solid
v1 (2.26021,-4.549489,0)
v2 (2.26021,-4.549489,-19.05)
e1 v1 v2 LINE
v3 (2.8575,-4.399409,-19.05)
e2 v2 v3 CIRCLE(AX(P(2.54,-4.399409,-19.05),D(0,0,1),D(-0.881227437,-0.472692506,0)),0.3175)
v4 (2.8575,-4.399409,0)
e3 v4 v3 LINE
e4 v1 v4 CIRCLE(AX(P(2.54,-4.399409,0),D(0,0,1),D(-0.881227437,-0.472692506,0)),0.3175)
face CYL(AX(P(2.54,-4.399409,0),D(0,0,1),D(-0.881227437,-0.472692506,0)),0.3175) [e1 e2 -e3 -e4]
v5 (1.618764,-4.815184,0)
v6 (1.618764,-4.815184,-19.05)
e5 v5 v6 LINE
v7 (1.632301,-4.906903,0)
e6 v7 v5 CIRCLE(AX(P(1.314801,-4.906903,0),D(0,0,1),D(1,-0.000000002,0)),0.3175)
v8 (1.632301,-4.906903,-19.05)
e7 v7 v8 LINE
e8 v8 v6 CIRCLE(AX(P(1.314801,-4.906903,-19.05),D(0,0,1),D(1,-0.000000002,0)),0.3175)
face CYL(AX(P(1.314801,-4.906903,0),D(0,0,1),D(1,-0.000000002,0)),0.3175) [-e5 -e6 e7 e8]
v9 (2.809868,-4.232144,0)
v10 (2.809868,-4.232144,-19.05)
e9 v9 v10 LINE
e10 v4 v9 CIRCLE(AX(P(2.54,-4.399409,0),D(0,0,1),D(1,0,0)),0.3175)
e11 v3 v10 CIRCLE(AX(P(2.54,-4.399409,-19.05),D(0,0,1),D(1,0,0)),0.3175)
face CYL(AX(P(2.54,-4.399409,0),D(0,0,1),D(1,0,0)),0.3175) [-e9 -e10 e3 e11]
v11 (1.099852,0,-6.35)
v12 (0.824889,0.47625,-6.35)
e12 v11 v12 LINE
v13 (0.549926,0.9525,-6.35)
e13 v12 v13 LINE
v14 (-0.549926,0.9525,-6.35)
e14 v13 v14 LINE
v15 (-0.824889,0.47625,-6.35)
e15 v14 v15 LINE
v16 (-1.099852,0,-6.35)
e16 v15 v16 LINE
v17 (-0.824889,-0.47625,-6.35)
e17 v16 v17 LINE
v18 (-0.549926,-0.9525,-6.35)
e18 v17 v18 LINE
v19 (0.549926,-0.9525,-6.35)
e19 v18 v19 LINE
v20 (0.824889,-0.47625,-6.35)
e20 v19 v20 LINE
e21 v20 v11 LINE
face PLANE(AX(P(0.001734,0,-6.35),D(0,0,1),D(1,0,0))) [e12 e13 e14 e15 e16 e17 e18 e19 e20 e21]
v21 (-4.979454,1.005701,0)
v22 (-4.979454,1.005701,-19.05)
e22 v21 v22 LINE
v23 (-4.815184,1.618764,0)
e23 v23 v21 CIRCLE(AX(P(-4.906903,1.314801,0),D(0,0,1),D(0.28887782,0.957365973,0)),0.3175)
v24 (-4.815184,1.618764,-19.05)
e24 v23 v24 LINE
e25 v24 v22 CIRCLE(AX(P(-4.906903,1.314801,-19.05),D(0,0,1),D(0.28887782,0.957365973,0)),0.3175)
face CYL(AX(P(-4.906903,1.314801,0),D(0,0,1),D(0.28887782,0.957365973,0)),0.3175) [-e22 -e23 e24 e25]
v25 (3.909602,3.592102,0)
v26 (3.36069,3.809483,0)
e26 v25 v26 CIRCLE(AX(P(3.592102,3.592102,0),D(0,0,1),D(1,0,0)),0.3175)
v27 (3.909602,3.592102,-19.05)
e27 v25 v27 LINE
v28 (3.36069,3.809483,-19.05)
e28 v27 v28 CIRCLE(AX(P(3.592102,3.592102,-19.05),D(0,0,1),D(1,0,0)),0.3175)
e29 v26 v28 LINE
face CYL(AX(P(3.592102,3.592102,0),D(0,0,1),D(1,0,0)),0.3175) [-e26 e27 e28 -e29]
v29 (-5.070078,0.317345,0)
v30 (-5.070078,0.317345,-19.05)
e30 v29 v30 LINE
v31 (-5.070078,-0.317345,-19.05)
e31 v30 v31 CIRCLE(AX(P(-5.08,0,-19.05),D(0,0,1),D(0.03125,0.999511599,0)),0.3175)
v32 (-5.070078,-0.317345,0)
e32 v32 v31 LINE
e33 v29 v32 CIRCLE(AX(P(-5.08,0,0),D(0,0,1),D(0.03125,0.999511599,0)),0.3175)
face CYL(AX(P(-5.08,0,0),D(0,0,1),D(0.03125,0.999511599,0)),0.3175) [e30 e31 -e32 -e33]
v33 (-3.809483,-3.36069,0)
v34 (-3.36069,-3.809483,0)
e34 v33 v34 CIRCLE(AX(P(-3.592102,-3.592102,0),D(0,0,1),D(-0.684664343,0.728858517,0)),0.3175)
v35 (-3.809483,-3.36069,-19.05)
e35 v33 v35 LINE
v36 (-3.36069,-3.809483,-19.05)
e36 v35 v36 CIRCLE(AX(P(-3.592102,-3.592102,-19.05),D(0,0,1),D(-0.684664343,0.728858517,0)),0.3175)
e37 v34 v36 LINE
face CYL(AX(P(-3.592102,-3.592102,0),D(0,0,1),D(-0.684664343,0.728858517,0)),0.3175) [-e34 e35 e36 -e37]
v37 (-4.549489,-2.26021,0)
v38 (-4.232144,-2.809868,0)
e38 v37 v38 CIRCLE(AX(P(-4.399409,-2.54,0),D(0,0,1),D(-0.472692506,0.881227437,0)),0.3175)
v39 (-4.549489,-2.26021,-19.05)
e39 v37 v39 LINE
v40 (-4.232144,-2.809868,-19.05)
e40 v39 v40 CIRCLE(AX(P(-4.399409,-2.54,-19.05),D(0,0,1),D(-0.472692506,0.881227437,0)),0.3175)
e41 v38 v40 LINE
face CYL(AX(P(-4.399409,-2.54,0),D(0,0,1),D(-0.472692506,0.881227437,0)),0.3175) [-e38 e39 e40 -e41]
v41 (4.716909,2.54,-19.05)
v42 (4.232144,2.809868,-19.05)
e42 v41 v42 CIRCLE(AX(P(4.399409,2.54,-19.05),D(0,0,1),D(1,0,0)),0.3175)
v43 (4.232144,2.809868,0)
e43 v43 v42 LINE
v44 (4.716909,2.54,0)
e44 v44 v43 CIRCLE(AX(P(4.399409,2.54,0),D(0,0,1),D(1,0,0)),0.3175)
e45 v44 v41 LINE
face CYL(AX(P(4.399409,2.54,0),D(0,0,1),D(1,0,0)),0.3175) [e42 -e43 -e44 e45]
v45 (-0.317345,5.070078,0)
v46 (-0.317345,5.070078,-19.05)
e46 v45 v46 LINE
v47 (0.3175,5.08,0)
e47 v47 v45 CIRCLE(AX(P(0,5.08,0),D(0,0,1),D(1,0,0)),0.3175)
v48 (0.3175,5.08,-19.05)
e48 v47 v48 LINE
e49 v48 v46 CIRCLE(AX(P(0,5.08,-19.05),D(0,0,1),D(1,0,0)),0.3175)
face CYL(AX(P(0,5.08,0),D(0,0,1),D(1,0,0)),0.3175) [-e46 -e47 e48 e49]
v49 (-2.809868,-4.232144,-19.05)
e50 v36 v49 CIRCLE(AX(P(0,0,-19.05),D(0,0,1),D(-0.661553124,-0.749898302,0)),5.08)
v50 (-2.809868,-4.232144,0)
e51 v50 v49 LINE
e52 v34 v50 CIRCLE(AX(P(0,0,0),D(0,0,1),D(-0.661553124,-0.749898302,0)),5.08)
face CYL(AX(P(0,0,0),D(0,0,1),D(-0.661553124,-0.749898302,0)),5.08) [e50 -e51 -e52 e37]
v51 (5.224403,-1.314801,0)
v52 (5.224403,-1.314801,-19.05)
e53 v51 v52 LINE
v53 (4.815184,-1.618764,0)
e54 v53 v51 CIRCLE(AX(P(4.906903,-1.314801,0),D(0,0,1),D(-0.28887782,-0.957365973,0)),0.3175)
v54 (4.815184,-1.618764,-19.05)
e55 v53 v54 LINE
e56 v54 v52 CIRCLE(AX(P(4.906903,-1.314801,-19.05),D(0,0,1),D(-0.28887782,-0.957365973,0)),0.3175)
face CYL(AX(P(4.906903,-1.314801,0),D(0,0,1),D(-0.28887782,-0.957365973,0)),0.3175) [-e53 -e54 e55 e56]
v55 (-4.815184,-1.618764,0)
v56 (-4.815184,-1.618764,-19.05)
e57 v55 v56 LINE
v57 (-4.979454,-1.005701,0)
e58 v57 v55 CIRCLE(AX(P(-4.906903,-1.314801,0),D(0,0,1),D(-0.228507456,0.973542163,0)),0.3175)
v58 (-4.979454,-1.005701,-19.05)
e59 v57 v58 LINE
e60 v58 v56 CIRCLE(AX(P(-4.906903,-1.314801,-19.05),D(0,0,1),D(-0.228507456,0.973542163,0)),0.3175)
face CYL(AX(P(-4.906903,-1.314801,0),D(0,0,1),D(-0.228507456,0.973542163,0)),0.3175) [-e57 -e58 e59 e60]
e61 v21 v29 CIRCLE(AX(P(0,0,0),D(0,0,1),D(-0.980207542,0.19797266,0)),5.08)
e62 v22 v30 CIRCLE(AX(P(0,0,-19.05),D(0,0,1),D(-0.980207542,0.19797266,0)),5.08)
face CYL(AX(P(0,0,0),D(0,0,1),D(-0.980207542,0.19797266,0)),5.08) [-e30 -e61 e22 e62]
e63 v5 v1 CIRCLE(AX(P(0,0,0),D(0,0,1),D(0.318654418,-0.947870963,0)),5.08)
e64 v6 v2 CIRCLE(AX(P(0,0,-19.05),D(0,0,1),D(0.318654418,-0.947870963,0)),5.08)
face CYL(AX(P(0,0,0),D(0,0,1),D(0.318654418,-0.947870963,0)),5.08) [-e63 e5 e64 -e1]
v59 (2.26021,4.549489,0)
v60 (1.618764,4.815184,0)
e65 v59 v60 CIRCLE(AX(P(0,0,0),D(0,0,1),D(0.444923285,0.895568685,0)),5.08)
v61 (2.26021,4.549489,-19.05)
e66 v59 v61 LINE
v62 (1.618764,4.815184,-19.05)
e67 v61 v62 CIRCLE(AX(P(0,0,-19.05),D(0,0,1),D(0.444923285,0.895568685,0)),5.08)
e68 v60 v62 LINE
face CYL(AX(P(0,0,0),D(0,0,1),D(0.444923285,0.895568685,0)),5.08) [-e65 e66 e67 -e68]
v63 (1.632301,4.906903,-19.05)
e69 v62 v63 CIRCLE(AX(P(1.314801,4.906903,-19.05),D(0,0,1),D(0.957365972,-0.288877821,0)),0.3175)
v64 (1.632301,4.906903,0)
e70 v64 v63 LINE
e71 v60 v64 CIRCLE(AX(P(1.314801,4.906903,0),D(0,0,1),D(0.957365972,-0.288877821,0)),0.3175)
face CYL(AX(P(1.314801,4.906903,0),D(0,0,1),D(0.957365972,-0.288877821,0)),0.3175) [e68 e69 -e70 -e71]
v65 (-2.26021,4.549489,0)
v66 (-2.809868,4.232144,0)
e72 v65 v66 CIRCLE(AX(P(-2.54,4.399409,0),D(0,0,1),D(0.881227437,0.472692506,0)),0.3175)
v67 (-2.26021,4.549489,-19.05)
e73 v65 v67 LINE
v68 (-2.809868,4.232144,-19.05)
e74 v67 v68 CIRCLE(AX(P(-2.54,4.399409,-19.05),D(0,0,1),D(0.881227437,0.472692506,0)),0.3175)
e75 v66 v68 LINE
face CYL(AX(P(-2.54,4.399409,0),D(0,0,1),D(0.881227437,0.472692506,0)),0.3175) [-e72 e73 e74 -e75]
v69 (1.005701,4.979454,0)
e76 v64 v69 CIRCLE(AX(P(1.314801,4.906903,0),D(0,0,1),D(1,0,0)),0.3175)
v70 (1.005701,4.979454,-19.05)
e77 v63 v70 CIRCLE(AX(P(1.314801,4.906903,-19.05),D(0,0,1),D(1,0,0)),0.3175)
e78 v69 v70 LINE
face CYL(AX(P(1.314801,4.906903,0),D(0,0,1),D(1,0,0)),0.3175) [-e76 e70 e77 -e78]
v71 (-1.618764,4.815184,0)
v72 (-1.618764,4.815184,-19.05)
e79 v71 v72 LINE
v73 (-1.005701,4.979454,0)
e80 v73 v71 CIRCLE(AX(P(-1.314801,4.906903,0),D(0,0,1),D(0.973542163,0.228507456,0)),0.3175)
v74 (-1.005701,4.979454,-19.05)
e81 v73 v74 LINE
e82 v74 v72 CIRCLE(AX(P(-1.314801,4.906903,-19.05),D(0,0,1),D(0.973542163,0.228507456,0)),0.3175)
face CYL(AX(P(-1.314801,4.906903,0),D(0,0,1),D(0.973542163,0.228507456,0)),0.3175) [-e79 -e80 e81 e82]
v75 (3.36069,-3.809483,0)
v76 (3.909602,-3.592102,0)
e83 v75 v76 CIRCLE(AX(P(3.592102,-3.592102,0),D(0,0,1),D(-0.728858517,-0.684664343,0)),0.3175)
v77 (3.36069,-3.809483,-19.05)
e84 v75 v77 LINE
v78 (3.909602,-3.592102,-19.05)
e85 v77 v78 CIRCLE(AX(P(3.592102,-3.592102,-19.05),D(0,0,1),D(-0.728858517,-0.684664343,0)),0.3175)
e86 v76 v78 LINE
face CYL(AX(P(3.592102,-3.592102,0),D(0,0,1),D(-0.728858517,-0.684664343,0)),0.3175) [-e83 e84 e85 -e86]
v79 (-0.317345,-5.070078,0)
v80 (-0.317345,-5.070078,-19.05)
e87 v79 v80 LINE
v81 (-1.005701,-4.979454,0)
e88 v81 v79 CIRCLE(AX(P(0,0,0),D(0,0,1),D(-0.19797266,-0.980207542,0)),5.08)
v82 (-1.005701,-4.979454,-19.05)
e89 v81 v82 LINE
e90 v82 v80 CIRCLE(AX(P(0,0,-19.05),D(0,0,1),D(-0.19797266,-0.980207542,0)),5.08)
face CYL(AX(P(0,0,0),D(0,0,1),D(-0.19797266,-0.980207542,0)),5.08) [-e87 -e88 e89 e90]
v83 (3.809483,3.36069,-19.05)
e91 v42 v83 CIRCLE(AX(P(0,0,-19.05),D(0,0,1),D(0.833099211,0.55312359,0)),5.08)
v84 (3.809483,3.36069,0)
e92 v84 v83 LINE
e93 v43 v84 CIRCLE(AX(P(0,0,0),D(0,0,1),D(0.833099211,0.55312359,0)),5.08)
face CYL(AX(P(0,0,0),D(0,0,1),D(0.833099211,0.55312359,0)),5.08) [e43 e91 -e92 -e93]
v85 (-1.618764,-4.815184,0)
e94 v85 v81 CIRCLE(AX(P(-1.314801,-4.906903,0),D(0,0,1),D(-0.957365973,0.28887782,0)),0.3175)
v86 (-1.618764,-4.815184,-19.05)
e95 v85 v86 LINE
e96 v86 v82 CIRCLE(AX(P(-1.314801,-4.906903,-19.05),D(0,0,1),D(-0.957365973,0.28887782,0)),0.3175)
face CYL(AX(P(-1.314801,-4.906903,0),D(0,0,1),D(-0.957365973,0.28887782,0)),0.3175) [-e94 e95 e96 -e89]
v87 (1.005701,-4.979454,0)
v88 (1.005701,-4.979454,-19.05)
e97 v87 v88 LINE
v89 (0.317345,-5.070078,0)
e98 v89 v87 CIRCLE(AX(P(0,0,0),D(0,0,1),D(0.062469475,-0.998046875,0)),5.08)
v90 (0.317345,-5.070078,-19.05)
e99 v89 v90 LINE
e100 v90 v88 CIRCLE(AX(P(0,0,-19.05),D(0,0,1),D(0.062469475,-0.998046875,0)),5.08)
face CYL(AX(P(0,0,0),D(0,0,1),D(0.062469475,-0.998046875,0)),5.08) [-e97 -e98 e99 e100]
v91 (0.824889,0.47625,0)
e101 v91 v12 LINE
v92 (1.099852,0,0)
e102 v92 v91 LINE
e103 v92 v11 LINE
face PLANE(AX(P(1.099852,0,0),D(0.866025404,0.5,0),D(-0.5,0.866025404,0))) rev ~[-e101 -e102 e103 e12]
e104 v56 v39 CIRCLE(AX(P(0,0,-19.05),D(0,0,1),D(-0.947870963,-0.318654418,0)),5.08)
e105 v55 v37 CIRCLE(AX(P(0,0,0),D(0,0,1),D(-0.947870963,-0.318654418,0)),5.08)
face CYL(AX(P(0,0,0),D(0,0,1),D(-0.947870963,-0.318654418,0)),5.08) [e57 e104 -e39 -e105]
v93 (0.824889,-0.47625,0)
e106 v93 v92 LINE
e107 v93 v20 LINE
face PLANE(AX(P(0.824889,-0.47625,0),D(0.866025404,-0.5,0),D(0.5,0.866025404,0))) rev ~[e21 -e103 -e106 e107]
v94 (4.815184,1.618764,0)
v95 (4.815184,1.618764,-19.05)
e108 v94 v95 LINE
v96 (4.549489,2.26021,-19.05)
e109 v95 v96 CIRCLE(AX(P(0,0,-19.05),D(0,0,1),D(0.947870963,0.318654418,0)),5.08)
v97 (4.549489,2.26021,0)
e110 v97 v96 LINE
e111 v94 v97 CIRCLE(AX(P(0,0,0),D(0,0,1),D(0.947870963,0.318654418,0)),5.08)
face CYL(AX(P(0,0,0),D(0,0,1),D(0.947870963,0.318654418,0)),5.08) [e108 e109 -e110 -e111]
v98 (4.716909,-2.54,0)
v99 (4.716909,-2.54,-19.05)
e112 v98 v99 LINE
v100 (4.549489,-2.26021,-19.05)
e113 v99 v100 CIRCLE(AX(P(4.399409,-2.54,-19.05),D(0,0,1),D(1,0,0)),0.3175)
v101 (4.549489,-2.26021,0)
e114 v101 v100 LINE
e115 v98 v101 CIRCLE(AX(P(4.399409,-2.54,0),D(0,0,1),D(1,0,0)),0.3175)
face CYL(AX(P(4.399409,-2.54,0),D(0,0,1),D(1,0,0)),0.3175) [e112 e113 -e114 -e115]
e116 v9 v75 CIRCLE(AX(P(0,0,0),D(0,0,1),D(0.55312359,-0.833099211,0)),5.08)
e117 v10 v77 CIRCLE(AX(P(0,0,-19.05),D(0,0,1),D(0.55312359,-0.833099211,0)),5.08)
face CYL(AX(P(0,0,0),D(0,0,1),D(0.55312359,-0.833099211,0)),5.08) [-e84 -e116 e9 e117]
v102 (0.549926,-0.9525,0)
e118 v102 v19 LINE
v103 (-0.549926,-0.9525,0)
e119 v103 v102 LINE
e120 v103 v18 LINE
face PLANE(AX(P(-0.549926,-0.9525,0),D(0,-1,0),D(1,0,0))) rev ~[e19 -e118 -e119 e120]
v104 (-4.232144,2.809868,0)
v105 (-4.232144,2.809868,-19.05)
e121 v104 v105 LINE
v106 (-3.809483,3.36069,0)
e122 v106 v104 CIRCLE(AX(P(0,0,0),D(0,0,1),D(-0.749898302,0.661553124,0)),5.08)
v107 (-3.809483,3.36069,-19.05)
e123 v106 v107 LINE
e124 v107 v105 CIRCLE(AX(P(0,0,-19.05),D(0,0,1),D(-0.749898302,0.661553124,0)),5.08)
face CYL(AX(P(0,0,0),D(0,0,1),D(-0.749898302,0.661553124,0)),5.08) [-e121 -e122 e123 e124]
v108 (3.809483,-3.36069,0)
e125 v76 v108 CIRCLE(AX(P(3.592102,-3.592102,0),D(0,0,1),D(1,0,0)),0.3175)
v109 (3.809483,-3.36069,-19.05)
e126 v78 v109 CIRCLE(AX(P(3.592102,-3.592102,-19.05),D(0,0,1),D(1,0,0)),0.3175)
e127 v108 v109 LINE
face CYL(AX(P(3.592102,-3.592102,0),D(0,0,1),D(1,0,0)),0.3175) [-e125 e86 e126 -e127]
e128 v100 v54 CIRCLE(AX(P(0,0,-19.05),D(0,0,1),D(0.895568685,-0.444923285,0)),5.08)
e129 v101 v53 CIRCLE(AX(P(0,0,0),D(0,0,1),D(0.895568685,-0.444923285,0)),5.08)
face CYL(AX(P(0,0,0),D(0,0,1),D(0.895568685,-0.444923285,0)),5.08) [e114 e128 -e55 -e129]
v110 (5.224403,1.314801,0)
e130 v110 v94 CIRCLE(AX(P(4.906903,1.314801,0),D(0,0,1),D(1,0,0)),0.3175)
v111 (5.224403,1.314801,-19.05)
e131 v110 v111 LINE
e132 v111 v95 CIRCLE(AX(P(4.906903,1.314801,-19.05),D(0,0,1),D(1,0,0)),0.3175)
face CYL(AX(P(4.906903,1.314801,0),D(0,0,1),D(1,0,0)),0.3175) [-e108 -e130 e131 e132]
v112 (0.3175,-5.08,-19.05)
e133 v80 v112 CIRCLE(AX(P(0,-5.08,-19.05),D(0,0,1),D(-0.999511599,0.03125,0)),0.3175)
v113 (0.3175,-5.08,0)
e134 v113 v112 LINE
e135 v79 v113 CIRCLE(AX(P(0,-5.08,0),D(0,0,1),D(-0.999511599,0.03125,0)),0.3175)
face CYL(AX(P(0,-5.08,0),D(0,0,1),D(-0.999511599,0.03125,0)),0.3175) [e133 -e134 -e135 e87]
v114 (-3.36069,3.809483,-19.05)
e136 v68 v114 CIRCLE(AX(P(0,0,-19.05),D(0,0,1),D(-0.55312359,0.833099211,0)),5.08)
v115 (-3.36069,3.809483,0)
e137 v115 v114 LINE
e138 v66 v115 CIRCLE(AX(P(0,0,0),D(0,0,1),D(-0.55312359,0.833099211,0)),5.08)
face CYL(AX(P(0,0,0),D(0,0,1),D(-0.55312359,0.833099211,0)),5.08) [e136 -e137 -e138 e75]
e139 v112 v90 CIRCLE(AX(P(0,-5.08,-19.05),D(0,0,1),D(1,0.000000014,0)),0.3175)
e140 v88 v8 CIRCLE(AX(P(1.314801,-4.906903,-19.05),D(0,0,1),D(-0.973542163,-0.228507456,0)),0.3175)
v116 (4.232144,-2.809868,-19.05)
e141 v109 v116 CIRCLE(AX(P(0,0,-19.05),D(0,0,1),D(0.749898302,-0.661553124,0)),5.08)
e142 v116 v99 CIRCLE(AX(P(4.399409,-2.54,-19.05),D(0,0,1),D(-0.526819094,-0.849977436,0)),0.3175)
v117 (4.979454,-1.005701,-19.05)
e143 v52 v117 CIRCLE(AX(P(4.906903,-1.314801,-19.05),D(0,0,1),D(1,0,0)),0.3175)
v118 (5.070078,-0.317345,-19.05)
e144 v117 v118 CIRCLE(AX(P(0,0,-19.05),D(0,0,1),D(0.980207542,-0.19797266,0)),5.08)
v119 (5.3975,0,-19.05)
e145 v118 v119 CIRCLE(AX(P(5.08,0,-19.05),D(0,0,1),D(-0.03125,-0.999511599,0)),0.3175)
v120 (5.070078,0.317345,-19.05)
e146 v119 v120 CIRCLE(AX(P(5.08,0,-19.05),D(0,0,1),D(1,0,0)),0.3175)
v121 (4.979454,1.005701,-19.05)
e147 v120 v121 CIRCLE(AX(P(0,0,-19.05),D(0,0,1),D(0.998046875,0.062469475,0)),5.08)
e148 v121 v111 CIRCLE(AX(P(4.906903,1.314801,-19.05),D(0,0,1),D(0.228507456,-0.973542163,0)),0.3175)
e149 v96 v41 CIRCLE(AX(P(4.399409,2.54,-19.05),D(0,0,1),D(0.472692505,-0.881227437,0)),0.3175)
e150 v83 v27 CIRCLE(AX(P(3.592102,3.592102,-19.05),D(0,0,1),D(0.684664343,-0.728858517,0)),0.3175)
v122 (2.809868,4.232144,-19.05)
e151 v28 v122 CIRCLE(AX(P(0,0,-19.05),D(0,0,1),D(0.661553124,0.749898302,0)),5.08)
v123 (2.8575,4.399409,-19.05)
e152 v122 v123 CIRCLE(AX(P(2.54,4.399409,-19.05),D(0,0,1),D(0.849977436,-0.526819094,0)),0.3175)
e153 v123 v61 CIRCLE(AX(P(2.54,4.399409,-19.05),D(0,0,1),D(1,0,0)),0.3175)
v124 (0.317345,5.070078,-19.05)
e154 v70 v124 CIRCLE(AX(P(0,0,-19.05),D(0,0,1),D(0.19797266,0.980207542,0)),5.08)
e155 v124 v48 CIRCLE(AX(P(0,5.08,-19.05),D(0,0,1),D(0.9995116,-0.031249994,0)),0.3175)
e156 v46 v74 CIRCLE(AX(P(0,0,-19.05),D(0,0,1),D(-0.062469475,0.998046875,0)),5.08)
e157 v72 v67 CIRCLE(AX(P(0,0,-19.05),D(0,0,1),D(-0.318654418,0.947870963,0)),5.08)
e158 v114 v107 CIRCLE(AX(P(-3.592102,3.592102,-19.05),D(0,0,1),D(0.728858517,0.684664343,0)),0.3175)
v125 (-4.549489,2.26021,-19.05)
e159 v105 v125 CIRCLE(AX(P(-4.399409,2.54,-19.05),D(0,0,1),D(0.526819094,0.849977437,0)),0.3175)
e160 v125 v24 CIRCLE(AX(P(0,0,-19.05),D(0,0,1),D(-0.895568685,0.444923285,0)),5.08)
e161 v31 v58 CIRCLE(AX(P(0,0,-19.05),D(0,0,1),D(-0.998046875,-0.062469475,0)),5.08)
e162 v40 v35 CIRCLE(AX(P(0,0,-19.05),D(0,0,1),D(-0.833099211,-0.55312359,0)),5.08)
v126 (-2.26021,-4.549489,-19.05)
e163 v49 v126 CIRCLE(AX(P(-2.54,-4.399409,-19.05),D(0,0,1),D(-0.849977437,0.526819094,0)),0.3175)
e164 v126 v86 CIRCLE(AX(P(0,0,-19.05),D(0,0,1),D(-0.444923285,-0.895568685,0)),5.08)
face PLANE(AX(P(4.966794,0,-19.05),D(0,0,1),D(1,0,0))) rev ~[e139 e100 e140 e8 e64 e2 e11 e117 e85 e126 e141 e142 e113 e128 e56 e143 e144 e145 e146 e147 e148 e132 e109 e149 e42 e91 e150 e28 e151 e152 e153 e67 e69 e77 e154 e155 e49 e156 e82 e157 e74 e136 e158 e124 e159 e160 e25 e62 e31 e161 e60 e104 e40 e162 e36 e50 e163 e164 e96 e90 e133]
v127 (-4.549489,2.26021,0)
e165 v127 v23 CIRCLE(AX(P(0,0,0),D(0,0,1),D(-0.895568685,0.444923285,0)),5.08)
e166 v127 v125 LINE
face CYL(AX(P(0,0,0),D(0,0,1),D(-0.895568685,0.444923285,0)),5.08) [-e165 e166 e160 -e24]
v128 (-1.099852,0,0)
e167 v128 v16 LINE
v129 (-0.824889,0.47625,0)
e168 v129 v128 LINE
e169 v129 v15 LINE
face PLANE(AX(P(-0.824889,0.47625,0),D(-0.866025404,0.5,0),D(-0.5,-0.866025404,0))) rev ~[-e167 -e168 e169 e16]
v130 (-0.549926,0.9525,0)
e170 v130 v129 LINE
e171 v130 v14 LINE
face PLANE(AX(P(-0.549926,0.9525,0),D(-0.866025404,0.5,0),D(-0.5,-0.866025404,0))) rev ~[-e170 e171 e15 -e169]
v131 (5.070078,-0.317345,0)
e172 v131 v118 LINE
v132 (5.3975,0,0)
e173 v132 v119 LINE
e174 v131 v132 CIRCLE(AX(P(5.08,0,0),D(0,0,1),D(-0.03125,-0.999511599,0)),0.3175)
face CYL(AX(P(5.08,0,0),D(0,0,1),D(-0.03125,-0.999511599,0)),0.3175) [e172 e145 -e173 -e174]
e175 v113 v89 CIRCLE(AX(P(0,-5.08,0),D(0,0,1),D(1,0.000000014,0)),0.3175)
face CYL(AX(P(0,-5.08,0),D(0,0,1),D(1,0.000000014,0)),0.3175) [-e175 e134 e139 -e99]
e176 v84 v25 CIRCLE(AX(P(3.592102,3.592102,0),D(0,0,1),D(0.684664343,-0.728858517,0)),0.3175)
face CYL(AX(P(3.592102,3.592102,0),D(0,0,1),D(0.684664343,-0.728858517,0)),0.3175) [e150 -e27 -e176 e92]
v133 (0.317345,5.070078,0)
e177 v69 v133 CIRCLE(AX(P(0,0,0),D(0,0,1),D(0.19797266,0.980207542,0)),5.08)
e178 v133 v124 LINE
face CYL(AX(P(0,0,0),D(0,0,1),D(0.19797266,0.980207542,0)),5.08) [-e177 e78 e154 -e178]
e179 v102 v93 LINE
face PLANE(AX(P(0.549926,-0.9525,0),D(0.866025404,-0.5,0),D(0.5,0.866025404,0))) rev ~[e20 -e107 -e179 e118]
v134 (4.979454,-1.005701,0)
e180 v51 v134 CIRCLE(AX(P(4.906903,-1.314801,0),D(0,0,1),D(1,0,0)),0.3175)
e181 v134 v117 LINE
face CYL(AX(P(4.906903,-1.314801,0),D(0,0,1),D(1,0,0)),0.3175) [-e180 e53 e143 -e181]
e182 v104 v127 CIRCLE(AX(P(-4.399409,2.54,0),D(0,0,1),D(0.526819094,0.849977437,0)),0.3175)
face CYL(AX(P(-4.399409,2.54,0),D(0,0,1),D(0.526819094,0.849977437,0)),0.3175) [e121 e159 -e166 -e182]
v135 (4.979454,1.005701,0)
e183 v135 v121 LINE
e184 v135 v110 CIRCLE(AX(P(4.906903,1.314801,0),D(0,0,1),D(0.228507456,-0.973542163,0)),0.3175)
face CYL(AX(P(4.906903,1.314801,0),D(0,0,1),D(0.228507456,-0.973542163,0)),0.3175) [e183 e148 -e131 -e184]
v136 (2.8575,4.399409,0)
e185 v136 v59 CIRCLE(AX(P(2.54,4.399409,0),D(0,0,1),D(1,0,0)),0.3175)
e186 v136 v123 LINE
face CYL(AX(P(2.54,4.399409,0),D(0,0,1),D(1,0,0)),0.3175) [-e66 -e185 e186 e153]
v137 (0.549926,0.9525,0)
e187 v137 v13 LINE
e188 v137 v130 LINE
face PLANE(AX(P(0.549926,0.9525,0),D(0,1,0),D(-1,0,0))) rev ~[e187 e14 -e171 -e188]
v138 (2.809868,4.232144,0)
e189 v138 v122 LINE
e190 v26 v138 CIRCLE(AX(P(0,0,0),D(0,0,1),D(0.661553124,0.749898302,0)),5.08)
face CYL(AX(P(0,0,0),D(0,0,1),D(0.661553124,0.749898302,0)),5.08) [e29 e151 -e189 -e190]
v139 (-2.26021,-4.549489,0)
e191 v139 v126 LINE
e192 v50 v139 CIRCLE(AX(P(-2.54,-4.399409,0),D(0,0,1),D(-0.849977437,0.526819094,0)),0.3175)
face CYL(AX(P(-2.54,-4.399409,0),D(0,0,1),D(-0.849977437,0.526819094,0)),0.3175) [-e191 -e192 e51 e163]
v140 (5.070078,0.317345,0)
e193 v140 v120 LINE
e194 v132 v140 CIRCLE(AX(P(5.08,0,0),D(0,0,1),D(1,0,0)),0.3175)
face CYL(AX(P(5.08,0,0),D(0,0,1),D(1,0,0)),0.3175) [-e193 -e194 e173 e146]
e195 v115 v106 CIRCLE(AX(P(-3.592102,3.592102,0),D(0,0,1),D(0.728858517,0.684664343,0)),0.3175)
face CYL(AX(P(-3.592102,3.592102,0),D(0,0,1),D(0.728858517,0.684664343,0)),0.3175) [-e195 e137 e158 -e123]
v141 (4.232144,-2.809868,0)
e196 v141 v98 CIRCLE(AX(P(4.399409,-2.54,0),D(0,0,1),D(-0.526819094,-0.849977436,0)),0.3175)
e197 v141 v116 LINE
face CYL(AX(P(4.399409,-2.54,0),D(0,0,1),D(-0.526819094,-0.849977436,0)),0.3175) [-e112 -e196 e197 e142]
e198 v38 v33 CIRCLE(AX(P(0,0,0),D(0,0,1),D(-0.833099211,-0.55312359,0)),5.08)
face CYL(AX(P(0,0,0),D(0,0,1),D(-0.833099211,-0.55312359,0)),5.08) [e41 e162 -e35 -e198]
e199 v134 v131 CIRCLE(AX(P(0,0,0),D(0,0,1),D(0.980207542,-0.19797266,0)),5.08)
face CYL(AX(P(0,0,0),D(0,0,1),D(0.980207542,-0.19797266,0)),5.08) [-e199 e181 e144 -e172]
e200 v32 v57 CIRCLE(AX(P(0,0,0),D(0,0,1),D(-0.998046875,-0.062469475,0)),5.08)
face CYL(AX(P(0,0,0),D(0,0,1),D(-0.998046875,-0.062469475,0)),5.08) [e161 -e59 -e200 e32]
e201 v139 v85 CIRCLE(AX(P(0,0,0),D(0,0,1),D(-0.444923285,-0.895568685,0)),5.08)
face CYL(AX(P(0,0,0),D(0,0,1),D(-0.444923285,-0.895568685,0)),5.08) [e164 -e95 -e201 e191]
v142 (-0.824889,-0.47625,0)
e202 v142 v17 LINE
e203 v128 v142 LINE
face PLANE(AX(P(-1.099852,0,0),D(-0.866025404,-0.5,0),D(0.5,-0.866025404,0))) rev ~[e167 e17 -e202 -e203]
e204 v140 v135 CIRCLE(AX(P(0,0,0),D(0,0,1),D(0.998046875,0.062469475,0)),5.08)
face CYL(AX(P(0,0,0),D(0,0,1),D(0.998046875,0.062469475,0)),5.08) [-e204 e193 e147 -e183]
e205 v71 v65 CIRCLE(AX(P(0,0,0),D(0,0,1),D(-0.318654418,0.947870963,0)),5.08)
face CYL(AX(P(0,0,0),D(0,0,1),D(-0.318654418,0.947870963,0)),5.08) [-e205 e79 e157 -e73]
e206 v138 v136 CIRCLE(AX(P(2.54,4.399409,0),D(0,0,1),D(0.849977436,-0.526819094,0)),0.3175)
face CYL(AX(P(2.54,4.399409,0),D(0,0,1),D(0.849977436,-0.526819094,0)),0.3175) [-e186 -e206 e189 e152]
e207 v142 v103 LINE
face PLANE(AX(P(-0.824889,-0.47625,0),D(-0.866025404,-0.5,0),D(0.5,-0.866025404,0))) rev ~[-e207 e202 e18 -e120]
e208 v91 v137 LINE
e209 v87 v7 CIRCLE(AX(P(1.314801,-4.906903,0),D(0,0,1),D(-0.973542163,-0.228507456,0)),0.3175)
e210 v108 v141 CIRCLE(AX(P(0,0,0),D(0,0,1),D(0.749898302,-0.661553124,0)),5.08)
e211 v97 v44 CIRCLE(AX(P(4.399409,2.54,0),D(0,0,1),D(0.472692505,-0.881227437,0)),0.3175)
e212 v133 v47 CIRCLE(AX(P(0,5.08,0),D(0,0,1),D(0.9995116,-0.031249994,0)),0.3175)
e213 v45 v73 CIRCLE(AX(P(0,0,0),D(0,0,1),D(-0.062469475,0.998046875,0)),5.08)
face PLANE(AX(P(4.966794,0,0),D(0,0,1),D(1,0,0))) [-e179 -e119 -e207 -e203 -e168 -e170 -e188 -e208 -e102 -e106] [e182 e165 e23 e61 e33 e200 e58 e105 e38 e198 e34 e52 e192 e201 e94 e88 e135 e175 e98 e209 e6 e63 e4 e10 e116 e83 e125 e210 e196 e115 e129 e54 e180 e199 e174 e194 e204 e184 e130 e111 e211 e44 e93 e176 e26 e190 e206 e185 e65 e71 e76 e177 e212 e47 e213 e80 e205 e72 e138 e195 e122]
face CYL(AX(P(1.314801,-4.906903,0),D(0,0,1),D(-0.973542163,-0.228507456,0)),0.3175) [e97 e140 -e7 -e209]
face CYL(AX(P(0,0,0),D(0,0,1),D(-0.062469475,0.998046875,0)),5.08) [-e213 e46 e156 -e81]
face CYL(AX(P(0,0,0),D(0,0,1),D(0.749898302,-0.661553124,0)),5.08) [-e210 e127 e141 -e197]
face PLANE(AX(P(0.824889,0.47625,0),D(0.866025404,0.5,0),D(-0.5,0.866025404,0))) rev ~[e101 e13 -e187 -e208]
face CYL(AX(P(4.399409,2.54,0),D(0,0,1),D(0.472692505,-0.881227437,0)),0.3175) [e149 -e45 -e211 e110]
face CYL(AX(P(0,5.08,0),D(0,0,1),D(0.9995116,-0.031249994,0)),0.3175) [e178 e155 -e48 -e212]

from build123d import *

# Parameters (mm, degrees)
F2_DEPTH = 19.05
F3_DEPTH = 6.35


with BuildPart() as f2:
    # F1 (on Top) → F2 (new body)
    with BuildSketch(Plane.XY):
        with BuildLine():
            ThreePointArc((5.070078125, -0.3173449328), (5.0775189254, -0.15875), (5.08, 0))
            ThreePointArc((5.08, 0), (5.0775189254, 0.15875), (5.070078125, 0.3173449328))
            ThreePointArc((5.070078125, 0.3173449328), (4.7625, 0), (5.070078125, -0.3173449328))
        make_face()
        with BuildLine():
            ThreePointArc((5.070078125, 0.3173449328), (5.0775189254, 0.15875), (5.08, 0))
            ThreePointArc((5.08, 0), (5.0775189254, -0.15875), (5.070078125, -0.3173449328))
            ThreePointArc((5.070078125, -0.3173449328), (5.3009706481, -0.22798733), (5.3975, 0))
            ThreePointArc((5.3975, 0), (5.3009706481, 0.22798733), (5.070078125, 0.3173449328))
        make_face()
        with BuildLine():
            ThreePointArc((5.070078125, -0.3173449328), (4.7625, 0), (5.070078125, 0.3173449328))
            ThreePointArc((5.070078125, 0.3173449328), (5.0365398958, 0.6630730565), (4.9794543147, 1.0057011124))
            ThreePointArc((4.9794543147, 1.0057011124), (4.6002217477, 1.2326257023), (4.8151844898, 1.6187644454))
            ThreePointArc((4.8151844898, 1.6187644454), (4.6933080252, 1.9440318364), (4.5494889218, 2.2602102889))
            ThreePointArc((4.5494889218, 2.2602102889), (4.1244459855, 2.38125), (4.232143989, 2.8098678361))
            ThreePointArc((4.232143989, 2.8098678361), (4.0302349687, 3.0925080594), (3.8094833773, 3.3606898693))
            ThreePointArc((3.8094833773, 3.3606898693), (3.3675960454, 3.3675960454), (3.3606898693, 3.8094833773))
            ThreePointArc((3.3606898693, 3.8094833773), (3.0925080594, 4.0302349687), (2.8098678361, 4.232143989))
            ThreePointArc((2.8098678361, 4.232143989), (2.38125, 4.1244459855), (2.2602102889, 4.5494889218))
            ThreePointArc((2.2602102889, 4.5494889218), (1.9440318364, 4.6933080252), (1.6187644454, 4.8151844898))
            ThreePointArc((1.6187644454, 4.8151844898), (1.2326257023, 4.6002217477), (1.0057011124, 4.9794543147))
            ThreePointArc((1.0057011124, 4.9794543147), (0.6630730565, 5.0365398958), (0.3173449328, 5.070078125))
            ThreePointArc((0.3173449328, 5.070078125), (0, 4.7625), (-0.3173449328, 5.070078125))
            ThreePointArc((-0.3173449328, 5.070078125), (-0.6630730565, 5.0365398958), (-1.0057011124, 4.9794543147))
            ThreePointArc((-1.0057011124, 4.9794543147), (-0.9994078318, 4.9434211065), (-0.9973007491, 4.9069031975))
            ThreePointArc((-0.9973007491, 4.9069031975), (-1.2684446468, 4.5928055029), (-1.6187644454, 4.8151844898))
            ThreePointArc((-1.6187644454, 4.8151844898), (-1.9440318364, 4.6933080252), (-2.2602102889, 4.5494889218))
            ThreePointArc((-2.2602102889, 4.5494889218), (-2.2320718564, 4.476781581), (-2.2225, 4.3994090512))
            ThreePointArc((-2.2225, 4.3994090512), (-2.4530425045, 4.0940491914), (-2.8098678361, 4.232143989))
            ThreePointArc((-2.8098678361, 4.232143989), (-3.0925080594, 4.0302349687), (-3.3606898693, 3.8094833773))
            ThreePointArc((-3.3606898693, 3.8094833773), (-3.2969078145, 3.7090057335), (-3.2746024484, 3.5921024484))
            ThreePointArc((-3.2746024484, 3.5921024484), (-3.4660314266, 3.3007052153), (-3.8094833773, 3.3606898693))
            ThreePointArc((-3.8094833773, 3.3606898693), (-4.0302349687, 3.0925080594), (-4.232143989, 2.8098678361))
            ThreePointArc((-4.232143989, 2.8098678361), (-4.1219987889, 2.6944337928), (-4.0819090512, 2.54))
            ThreePointArc((-4.0819090512, 2.54), (-4.2363816132, 2.267551281), (-4.5494889218, 2.2602102889))
            ThreePointArc((-4.5494889218, 2.2602102889), (-4.6933080252, 1.9440318364), (-4.8151844898, 1.6187644454))
            ThreePointArc((-4.8151844898, 1.6187644454), (-4.6520238734, 1.5041226447), (-4.5894031975, 1.3148007491))
            ThreePointArc((-4.5894031975, 1.3148007491), (-4.709708788, 1.0659622174), (-4.9794543147, 1.0057011124))
            ThreePointArc((-4.9794543147, 1.0057011124), (-5.0365398958, 0.6630730565), (-5.070078125, 0.3173449328))
            ThreePointArc((-5.070078125, 0.3173449328), (-4.85201267, 0.2209706481), (-4.7625, 0))
            ThreePointArc((-4.7625, 0), (-4.85201267, -0.2209706481), (-5.070078125, -0.3173449328))
            ThreePointArc((-5.070078125, -0.3173449328), (-5.0365398958, -0.6630730565), (-4.9794543147, -1.0057011124))
            ThreePointArc((-4.9794543147, -1.0057011124), (-4.709708788, -1.0659622174), (-4.5894031975, -1.3148007491))
            ThreePointArc((-4.5894031975, -1.3148007491), (-4.6520238734, -1.5041226447), (-4.8151844898, -1.6187644454))
            ThreePointArc((-4.8151844898, -1.6187644454), (-4.6933080252, -1.9440318364), (-4.5494889218, -2.2602102889))
            ThreePointArc((-4.5494889218, -2.2602102889), (-4.2363816132, -2.267551281), (-4.0819090512, -2.54))
            ThreePointArc((-4.0819090512, -2.54), (-4.1219987889, -2.6944337928), (-4.232143989, -2.8098678361))
            ThreePointArc((-4.232143989, -2.8098678361), (-4.0302349687, -3.0925080594), (-3.8094833773, -3.3606898693))
            ThreePointArc((-3.8094833773, -3.3606898693), (-3.4660314266, -3.3007052153), (-3.2746024484, -3.5921024484))
            ThreePointArc((-3.2746024484, -3.5921024484), (-3.2969078145, -3.7090057335), (-3.3606898693, -3.8094833773))
            ThreePointArc((-3.3606898693, -3.8094833773), (-3.0925080594, -4.0302349687), (-2.8098678361, -4.232143989))
            ThreePointArc((-2.8098678361, -4.232143989), (-2.4530425045, -4.0940491914), (-2.2225, -4.3994090512))
            ThreePointArc((-2.2225, -4.3994090512), (-2.2320718564, -4.476781581), (-2.2602102889, -4.5494889218))
            ThreePointArc((-2.2602102889, -4.5494889218), (-1.9440318364, -4.6933080252), (-1.6187644454, -4.8151844898))
            ThreePointArc((-1.6187644454, -4.8151844898), (-1.2684446468, -4.5928055029), (-0.9973007491, -4.9069031975))
            ThreePointArc((-0.9973007491, -4.9069031975), (-0.9994078318, -4.9434211065), (-1.0057011124, -4.9794543147))
            ThreePointArc((-1.0057011124, -4.9794543147), (-0.6630730565, -5.0365398958), (-0.3173449328, -5.070078125))
            ThreePointArc((-0.3173449328, -5.070078125), (0, -4.7625), (0.3173449328, -5.070078125))
            ThreePointArc((0.3173449328, -5.070078125), (0.6630730565, -5.0365398958), (1.0057011124, -4.9794543147))
            ThreePointArc((1.0057011124, -4.9794543147), (1.2326257023, -4.6002217477), (1.6187644454, -4.8151844898))
            ThreePointArc((1.6187644454, -4.8151844898), (1.9440318364, -4.6933080252), (2.2602102889, -4.5494889218))
            ThreePointArc((2.2602102889, -4.5494889218), (2.38125, -4.1244459855), (2.8098678361, -4.232143989))
            ThreePointArc((2.8098678361, -4.232143989), (3.0925080594, -4.0302349687), (3.3606898693, -3.8094833773))
            ThreePointArc((3.3606898693, -3.8094833773), (3.3675960454, -3.3675960454), (3.8094833773, -3.3606898693))
            ThreePointArc((3.8094833773, -3.3606898693), (4.0302349687, -3.0925080594), (4.232143989, -2.8098678361))
            ThreePointArc((4.232143989, -2.8098678361), (4.1244459855, -2.38125), (4.5494889218, -2.2602102889))
            ThreePointArc((4.5494889218, -2.2602102889), (4.6933080252, -1.9440318364), (4.8151844898, -1.6187644454))
            ThreePointArc((4.8151844898, -1.6187644454), (4.6002217477, -1.2326257023), (4.9794543147, -1.0057011124))
            ThreePointArc((4.9794543147, -1.0057011124), (5.0365398958, -0.6630730565), (5.070078125, -0.3173449328))
        make_face()
        with BuildLine():
            ThreePointArc((4.8151844898, 1.6187644454), (4.6002217477, 1.2326257023), (4.9794543147, 1.0057011124))
            ThreePointArc((4.9794543147, 1.0057011124), (4.9069031975, 1.3148007491), (4.8151844898, 1.6187644454))
        make_face()
        with BuildLine():
            ThreePointArc((4.8151844898, 1.6187644454), (4.9069031975, 1.3148007491), (4.9794543147, 1.0057011124))
            ThreePointArc((4.9794543147, 1.0057011124), (5.1557417292, 1.1176063396), (5.2244031975, 1.3148007491))
            ThreePointArc((5.2244031975, 1.3148007491), (5.0962250931, 1.5696800732), (4.8151844898, 1.6187644454))
        make_face()
        with BuildLine():
            ThreePointArc((5.2244031975, -1.3148007491), (5.1557417292, -1.1176063396), (4.9794543147, -1.0057011124))
            ThreePointArc((4.9794543147, -1.0057011124), (4.9069031975, -1.3148007491), (4.8151844898, -1.6187644454))
            ThreePointArc((4.8151844898, -1.6187644454), (5.0962250931, -1.5696800732), (5.2244031975, -1.3148007491))
        make_face()
        with BuildLine():
            ThreePointArc((4.8151844898, -1.6187644454), (4.9069031975, -1.3148007491), (4.9794543147, -1.0057011124))
            ThreePointArc((4.9794543147, -1.0057011124), (4.6002217477, -1.2326257023), (4.8151844898, -1.6187644454))
        make_face()
        with BuildLine():
            ThreePointArc((4.232143989, 2.8098678361), (4.1244459855, 2.38125), (4.5494889218, 2.2602102889))
            ThreePointArc((4.5494889218, 2.2602102889), (4.3994090512, 2.54), (4.232143989, 2.8098678361))
        make_face()
        with BuildLine():
            ThreePointArc((4.232143989, 2.8098678361), (4.3994090512, 2.54), (4.5494889218, 2.2602102889))
            ThreePointArc((4.5494889218, 2.2602102889), (4.6718577702, 2.376972562), (4.7169090512, 2.54))
            ThreePointArc((4.7169090512, 2.54), (4.5538428441, 2.8174102623), (4.232143989, 2.8098678361))
        make_face()
        with BuildLine():
            ThreePointArc((4.7169090512, -2.54), (4.6718577702, -2.376972562), (4.5494889218, -2.2602102889))
            ThreePointArc((4.5494889218, -2.2602102889), (4.3994090512, -2.54), (4.232143989, -2.8098678361))
            ThreePointArc((4.232143989, -2.8098678361), (4.5538428441, -2.8174102623), (4.7169090512, -2.54))
        make_face()
        with BuildLine():
            ThreePointArc((4.232143989, -2.8098678361), (4.3994090512, -2.54), (4.5494889218, -2.2602102889))
            ThreePointArc((4.5494889218, -2.2602102889), (4.1244459855, -2.38125), (4.232143989, -2.8098678361))
        make_face()
        with BuildLine():
            ThreePointArc((3.3606898693, 3.8094833773), (3.3675960454, 3.3675960454), (3.8094833773, 3.3606898693))
            ThreePointArc((3.8094833773, 3.3606898693), (3.5921024484, 3.5921024484), (3.3606898693, 3.8094833773))
        make_face()
        with BuildLine():
            ThreePointArc((3.3606898693, 3.8094833773), (3.5921024484, 3.5921024484), (3.8094833773, 3.3606898693))
            ThreePointArc((3.8094833773, 3.3606898693), (3.8834996815, 3.4660314266), (3.9096024484, 3.5921024484))
            ThreePointArc((3.9096024484, 3.5921024484), (3.7090057335, 3.8872970824), (3.3606898693, 3.8094833773))
        make_face()
        with BuildLine():
            ThreePointArc((3.9096024484, -3.5921024484), (3.8834996815, -3.4660314266), (3.8094833773, -3.3606898693))
            ThreePointArc((3.8094833773, -3.3606898693), (3.5921024484, -3.5921024484), (3.3606898693, -3.8094833773))
            ThreePointArc((3.3606898693, -3.8094833773), (3.7090057335, -3.8872970824), (3.9096024484, -3.5921024484))
        make_face()
        with BuildLine():
            ThreePointArc((3.3606898693, -3.8094833773), (3.5921024484, -3.5921024484), (3.8094833773, -3.3606898693))
            ThreePointArc((3.8094833773, -3.3606898693), (3.3675960454, -3.3675960454), (3.3606898693, -3.8094833773))
        make_face()
        with BuildLine():
            ThreePointArc((2.2602102889, 4.5494889218), (2.38125, 4.1244459855), (2.8098678361, 4.232143989))
            ThreePointArc((2.8098678361, 4.232143989), (2.54, 4.3994090512), (2.2602102889, 4.5494889218))
        make_face()
        with BuildLine():
            ThreePointArc((2.2602102889, 4.5494889218), (2.54, 4.3994090512), (2.8098678361, 4.232143989))
            ThreePointArc((2.8098678361, 4.232143989), (2.8453598598, 4.3124515557), (2.8575, 4.3994090512))
            ThreePointArc((2.8575, 4.3994090512), (2.6173725298, 4.7073371949), (2.2602102889, 4.5494889218))
        make_face()
        with BuildLine():
            ThreePointArc((2.8575, -4.3994090512), (2.8453598598, -4.3124515557), (2.8098678361, -4.232143989))
            ThreePointArc((2.8098678361, -4.232143989), (2.54, -4.3994090512), (2.2602102889, -4.5494889218))
            ThreePointArc((2.2602102889, -4.5494889218), (2.6173725298, -4.7073371949), (2.8575, -4.3994090512))
        make_face()
        with BuildLine():
            ThreePointArc((2.2602102889, -4.5494889218), (2.54, -4.3994090512), (2.8098678361, -4.232143989))
            ThreePointArc((2.8098678361, -4.232143989), (2.38125, -4.1244459855), (2.2602102889, -4.5494889218))
        make_face()
        with BuildLine():
            ThreePointArc((1.0057011124, 4.9794543147), (1.2326257023, 4.6002217477), (1.6187644454, 4.8151844898))
            ThreePointArc((1.6187644454, 4.8151844898), (1.3148007491, 4.9069031975), (1.0057011124, 4.9794543147))
        make_face()
        with BuildLine():
            ThreePointArc((1.0057011124, 4.9794543147), (1.3148007491, 4.9069031975), (1.6187644454, 4.8151844898))
            ThreePointArc((1.6187644454, 4.8151844898), (1.6288984438, 4.8605470953), (1.6323007491, 4.9069031975))
            ThreePointArc((1.6323007491, 4.9069031975), (1.3513186581, 5.2222961149), (1.0057011124, 4.9794543147))
        make_face()
        with BuildLine():
            ThreePointArc((1.6323007491, -4.9069031975), (1.6288984438, -4.8605470953), (1.6187644454, -4.8151844898))
            ThreePointArc((1.6187644454, -4.8151844898), (1.3148007491, -4.9069031975), (1.0057011124, -4.9794543147))
            ThreePointArc((1.0057011124, -4.9794543147), (1.3513186581, -5.2222961149), (1.6323007491, -4.9069031975))
        make_face()
        with BuildLine():
            ThreePointArc((1.0057011124, -4.9794543147), (1.3148007491, -4.9069031975), (1.6187644454, -4.8151844898))
            ThreePointArc((1.6187644454, -4.8151844898), (1.2326257023, -4.6002217477), (1.0057011124, -4.9794543147))
        make_face()
        with BuildLine():
            ThreePointArc((-0.3173449328, 5.070078125), (0, 4.7625), (0.3173449328, 5.070078125))
            ThreePointArc((0.3173449328, 5.070078125), (0, 5.08), (-0.3173449328, 5.070078125))
        make_face()
        with BuildLine():
            ThreePointArc((-0.3173449328, 5.070078125), (0, 5.08), (0.3173449328, 5.070078125))
            ThreePointArc((0.3173449328, 5.070078125), (0.3174612308, 5.0750384567), (0.3175, 5.08))
            ThreePointArc((0.3175, 5.08), (-0.0049615433, 5.3974612308), (-0.3173449328, 5.070078125))
        make_face()
        with BuildLine():
            ThreePointArc((0.3175, -5.08), (0.3174612308, -5.0750384567), (0.3173449328, -5.070078125))
            ThreePointArc((0.3173449328, -5.070078125), (0, -5.08), (-0.3173449328, -5.070078125))
            ThreePointArc((-0.3173449328, -5.070078125), (-0.0049615433, -5.3974612308), (0.3175, -5.08))
        make_face()
        with BuildLine():
            ThreePointArc((-0.3173449328, -5.070078125), (0, -5.08), (0.3173449328, -5.070078125))
            ThreePointArc((0.3173449328, -5.070078125), (0, -4.7625), (-0.3173449328, -5.070078125))
        make_face()
        with BuildLine():
            ThreePointArc((-0.9973007491, 4.9069031975), (-0.9994078318, 4.9434211065), (-1.0057011124, 4.9794543147))
            ThreePointArc((-1.0057011124, 4.9794543147), (-1.3148007491, 4.9069031975), (-1.6187644454, 4.8151844898))
            ThreePointArc((-1.6187644454, 4.8151844898), (-1.2684446468, 4.5928055029), (-0.9973007491, 4.9069031975))
        make_face()
        with BuildLine():
            ThreePointArc((-1.6187644454, 4.8151844898), (-1.3148007491, 4.9069031975), (-1.0057011124, 4.9794543147))
            ThreePointArc((-1.0057011124, 4.9794543147), (-1.3969757959, 5.2135846474), (-1.6187644454, 4.8151844898))
        make_face()
        with BuildLine():
            ThreePointArc((-1.6187644454, -4.8151844898), (-1.3969757959, -5.2135846474), (-1.0057011124, -4.9794543147))
            ThreePointArc((-1.0057011124, -4.9794543147), (-1.3148007491, -4.9069031975), (-1.6187644454, -4.8151844898))
        make_face()
        with BuildLine():
            ThreePointArc((-1.6187644454, -4.8151844898), (-1.3148007491, -4.9069031975), (-1.0057011124, -4.9794543147))
            ThreePointArc((-1.0057011124, -4.9794543147), (-0.9994078318, -4.9434211065), (-0.9973007491, -4.9069031975))
            ThreePointArc((-0.9973007491, -4.9069031975), (-1.2684446468, -4.5928055029), (-1.6187644454, -4.8151844898))
        make_face()
        with BuildLine():
            ThreePointArc((-2.2225, 4.3994090512), (-2.2320718564, 4.476781581), (-2.2602102889, 4.5494889218))
            ThreePointArc((-2.2602102889, 4.5494889218), (-2.54, 4.3994090512), (-2.8098678361, 4.232143989))
            ThreePointArc((-2.8098678361, 4.232143989), (-2.4530425045, 4.0940491914), (-2.2225, 4.3994090512))
        make_face()
        with BuildLine():
            ThreePointArc((-2.8098678361, 4.232143989), (-2.54, 4.3994090512), (-2.2602102889, 4.5494889218))
            ThreePointArc((-2.2602102889, 4.5494889218), (-2.69875, 4.6743721169), (-2.8098678361, 4.232143989))
        make_face()
        with BuildLine():
            ThreePointArc((-2.8098678361, -4.232143989), (-2.69875, -4.6743721169), (-2.2602102889, -4.5494889218))
            ThreePointArc((-2.2602102889, -4.5494889218), (-2.54, -4.3994090512), (-2.8098678361, -4.232143989))
        make_face()
        with BuildLine():
            ThreePointArc((-2.8098678361, -4.232143989), (-2.54, -4.3994090512), (-2.2602102889, -4.5494889218))
            ThreePointArc((-2.2602102889, -4.5494889218), (-2.2320718564, -4.476781581), (-2.2225, -4.3994090512))
            ThreePointArc((-2.2225, -4.3994090512), (-2.4530425045, -4.0940491914), (-2.8098678361, -4.232143989))
        make_face()
        with BuildLine():
            ThreePointArc((-3.2746024484, 3.5921024484), (-3.2969078145, 3.7090057335), (-3.3606898693, 3.8094833773))
            ThreePointArc((-3.3606898693, 3.8094833773), (-3.5921024484, 3.5921024484), (-3.8094833773, 3.3606898693))
            ThreePointArc((-3.8094833773, 3.3606898693), (-3.4660314266, 3.3007052153), (-3.2746024484, 3.5921024484))
        make_face()
        with BuildLine():
            ThreePointArc((-3.8094833773, 3.3606898693), (-3.5921024484, 3.5921024484), (-3.3606898693, 3.8094833773))
            ThreePointArc((-3.3606898693, 3.8094833773), (-3.8166088515, 3.8166088515), (-3.8094833773, 3.3606898693))
        make_face()
        with BuildLine():
            ThreePointArc((-3.8094833773, -3.3606898693), (-3.8166088515, -3.8166088515), (-3.3606898693, -3.8094833773))
            ThreePointArc((-3.3606898693, -3.8094833773), (-3.5921024484, -3.5921024484), (-3.8094833773, -3.3606898693))
        make_face()
        with BuildLine():
            ThreePointArc((-3.8094833773, -3.3606898693), (-3.5921024484, -3.5921024484), (-3.3606898693, -3.8094833773))
            ThreePointArc((-3.3606898693, -3.8094833773), (-3.2969078145, -3.7090057335), (-3.2746024484, -3.5921024484))
            ThreePointArc((-3.2746024484, -3.5921024484), (-3.4660314266, -3.3007052153), (-3.8094833773, -3.3606898693))
        make_face()
        with BuildLine():
            ThreePointArc((-4.0819090512, 2.54), (-4.1219987889, 2.6944337928), (-4.232143989, 2.8098678361))
            ThreePointArc((-4.232143989, 2.8098678361), (-4.3994090512, 2.54), (-4.5494889218, 2.2602102889))
            ThreePointArc((-4.5494889218, 2.2602102889), (-4.2363816132, 2.267551281), (-4.0819090512, 2.54))
        make_face()
        with BuildLine():
            ThreePointArc((-4.5494889218, 2.2602102889), (-4.3994090512, 2.54), (-4.232143989, 2.8098678361))
            ThreePointArc((-4.232143989, 2.8098678361), (-4.6743721169, 2.69875), (-4.5494889218, 2.2602102889))
        make_face()
        with BuildLine():
            ThreePointArc((-4.5494889218, -2.2602102889), (-4.6743721169, -2.69875), (-4.232143989, -2.8098678361))
            ThreePointArc((-4.232143989, -2.8098678361), (-4.3994090512, -2.54), (-4.5494889218, -2.2602102889))
        make_face()
        with BuildLine():
            ThreePointArc((-4.5494889218, -2.2602102889), (-4.3994090512, -2.54), (-4.232143989, -2.8098678361))
            ThreePointArc((-4.232143989, -2.8098678361), (-4.1219987889, -2.6944337928), (-4.0819090512, -2.54))
            ThreePointArc((-4.0819090512, -2.54), (-4.2363816132, -2.267551281), (-4.5494889218, -2.2602102889))
        make_face()
        with BuildLine():
            ThreePointArc((-4.5894031975, 1.3148007491), (-4.6520238734, 1.5041226447), (-4.8151844898, 1.6187644454))
            ThreePointArc((-4.8151844898, 1.6187644454), (-4.9069031975, 1.3148007491), (-4.9794543147, 1.0057011124))
            ThreePointArc((-4.9794543147, 1.0057011124), (-4.709708788, 1.0659622174), (-4.5894031975, 1.3148007491))
        make_face()
        with BuildLine():
            ThreePointArc((-4.9794543147, 1.0057011124), (-4.9069031975, 1.3148007491), (-4.8151844898, 1.6187644454))
            ThreePointArc((-4.8151844898, 1.6187644454), (-5.2135846474, 1.3969757959), (-4.9794543147, 1.0057011124))
        make_face()
        with BuildLine():
            ThreePointArc((-4.9794543147, -1.0057011124), (-5.2135846474, -1.3969757959), (-4.8151844898, -1.6187644454))
            ThreePointArc((-4.8151844898, -1.6187644454), (-4.9069031975, -1.3148007491), (-4.9794543147, -1.0057011124))
        make_face()
        with BuildLine():
            ThreePointArc((-4.9794543147, -1.0057011124), (-4.9069031975, -1.3148007491), (-4.8151844898, -1.6187644454))
            ThreePointArc((-4.8151844898, -1.6187644454), (-4.6520238734, -1.5041226447), (-4.5894031975, -1.3148007491))
            ThreePointArc((-4.5894031975, -1.3148007491), (-4.709708788, -1.0659622174), (-4.9794543147, -1.0057011124))
        make_face()
        with BuildLine():
            ThreePointArc((-4.7625, 0), (-4.85201267, 0.2209706481), (-5.070078125, 0.3173449328))
            ThreePointArc((-5.070078125, 0.3173449328), (-5.08, 0), (-5.070078125, -0.3173449328))
            ThreePointArc((-5.070078125, -0.3173449328), (-4.85201267, -0.2209706481), (-4.7625, 0))
        make_face()
        with BuildLine():
            ThreePointArc((-5.070078125, -0.3173449328), (-5.08, 0), (-5.070078125, 0.3173449328))
            ThreePointArc((-5.070078125, 0.3173449328), (-5.3975, 0), (-5.070078125, -0.3173449328))
        make_face()
    extrude(amount=-F2_DEPTH)

    # F0 (on Top) → F3 (cut)
    with BuildSketch(Plane.XY):
        with BuildLine():
            ThreePointArc((0.8248892073, -0.4762499824), (0.9200443522, -0.2465251306), (0.9525, 0))
            ThreePointArc((0.9525, 0), (0.9200443522, 0.2465251306), (0.8248892073, 0.4762499824))
            ThreePointArc((0.8248892073, 0.4762499824), (0.4762500088, 0.824889192), (0, 0.9525))
            ThreePointArc((0, 0.9525), (-0.4762500088, 0.824889192), (-0.8248892073, 0.4762499824))
            ThreePointArc((-0.8248892073, 0.4762499824), (-0.9525, 0), (-0.8248892073, -0.4762499824))
            ThreePointArc((-0.8248892073, -0.4762499824), (-0.4762500088, -0.824889192), (0, -0.9525))
            ThreePointArc((0, -0.9525), (0.4762500088, -0.824889192), (0.8248892073, -0.4762499824))
        make_face()
        with BuildLine():
            ThreePointArc((0.8248892073, 0.4762499824), (0.9200443522, 0.2465251306), (0.9525, 0))
            ThreePointArc((0.9525, 0), (0.9200443522, -0.2465251306), (0.8248892073, -0.4762499824))
            Line((0.8248892073, -0.4762499824), (1.0998522628, 0))
            Line((1.0998522628, 0), (0.8248892073, 0.4762499824))
        make_face()
        with BuildLine():
            ThreePointArc((0, 0.9525), (0.4762500088, 0.824889192), (0.8248892073, 0.4762499824))
            Line((0.8248892073, 0.4762499824), (0.5499261314, 0.9525))
            Line((0.5499261314, 0.9525), (0, 0.9525))
        make_face()
        with BuildLine():
            Line((0.5499261314, -0.9525), (0.8248892073, -0.4762499824))
            ThreePointArc((0.8248892073, -0.4762499824), (0.4762500088, -0.824889192), (0, -0.9525))
            Line((0, -0.9525), (0.5499261314, -0.9525))
        make_face()
        with BuildLine():
            ThreePointArc((-0.8248892073, 0.4762499824), (-0.4762500088, 0.824889192), (0, 0.9525))
            Line((0, 0.9525), (-0.5499261314, 0.9525))
            Line((-0.5499261314, 0.9525), (-0.8248892073, 0.4762499824))
        make_face()
        with BuildLine():
            Line((-0.5499261314, -0.9525), (0, -0.9525))
            ThreePointArc((0, -0.9525), (-0.4762500088, -0.824889192), (-0.8248892073, -0.4762499824))
            Line((-0.8248892073, -0.4762499824), (-0.5499261314, -0.9525))
        make_face()
        with BuildLine():
            ThreePointArc((-0.8248892073, -0.4762499824), (-0.9525, 0), (-0.8248892073, 0.4762499824))
            Line((-0.8248892073, 0.4762499824), (-1.0998522628, 0))
            Line((-1.0998522628, 0), (-0.8248892073, -0.4762499824))
        make_face()
    extrude(amount=-F3_DEPTH, mode=Mode.SUBTRACT)


solid = f2.part
